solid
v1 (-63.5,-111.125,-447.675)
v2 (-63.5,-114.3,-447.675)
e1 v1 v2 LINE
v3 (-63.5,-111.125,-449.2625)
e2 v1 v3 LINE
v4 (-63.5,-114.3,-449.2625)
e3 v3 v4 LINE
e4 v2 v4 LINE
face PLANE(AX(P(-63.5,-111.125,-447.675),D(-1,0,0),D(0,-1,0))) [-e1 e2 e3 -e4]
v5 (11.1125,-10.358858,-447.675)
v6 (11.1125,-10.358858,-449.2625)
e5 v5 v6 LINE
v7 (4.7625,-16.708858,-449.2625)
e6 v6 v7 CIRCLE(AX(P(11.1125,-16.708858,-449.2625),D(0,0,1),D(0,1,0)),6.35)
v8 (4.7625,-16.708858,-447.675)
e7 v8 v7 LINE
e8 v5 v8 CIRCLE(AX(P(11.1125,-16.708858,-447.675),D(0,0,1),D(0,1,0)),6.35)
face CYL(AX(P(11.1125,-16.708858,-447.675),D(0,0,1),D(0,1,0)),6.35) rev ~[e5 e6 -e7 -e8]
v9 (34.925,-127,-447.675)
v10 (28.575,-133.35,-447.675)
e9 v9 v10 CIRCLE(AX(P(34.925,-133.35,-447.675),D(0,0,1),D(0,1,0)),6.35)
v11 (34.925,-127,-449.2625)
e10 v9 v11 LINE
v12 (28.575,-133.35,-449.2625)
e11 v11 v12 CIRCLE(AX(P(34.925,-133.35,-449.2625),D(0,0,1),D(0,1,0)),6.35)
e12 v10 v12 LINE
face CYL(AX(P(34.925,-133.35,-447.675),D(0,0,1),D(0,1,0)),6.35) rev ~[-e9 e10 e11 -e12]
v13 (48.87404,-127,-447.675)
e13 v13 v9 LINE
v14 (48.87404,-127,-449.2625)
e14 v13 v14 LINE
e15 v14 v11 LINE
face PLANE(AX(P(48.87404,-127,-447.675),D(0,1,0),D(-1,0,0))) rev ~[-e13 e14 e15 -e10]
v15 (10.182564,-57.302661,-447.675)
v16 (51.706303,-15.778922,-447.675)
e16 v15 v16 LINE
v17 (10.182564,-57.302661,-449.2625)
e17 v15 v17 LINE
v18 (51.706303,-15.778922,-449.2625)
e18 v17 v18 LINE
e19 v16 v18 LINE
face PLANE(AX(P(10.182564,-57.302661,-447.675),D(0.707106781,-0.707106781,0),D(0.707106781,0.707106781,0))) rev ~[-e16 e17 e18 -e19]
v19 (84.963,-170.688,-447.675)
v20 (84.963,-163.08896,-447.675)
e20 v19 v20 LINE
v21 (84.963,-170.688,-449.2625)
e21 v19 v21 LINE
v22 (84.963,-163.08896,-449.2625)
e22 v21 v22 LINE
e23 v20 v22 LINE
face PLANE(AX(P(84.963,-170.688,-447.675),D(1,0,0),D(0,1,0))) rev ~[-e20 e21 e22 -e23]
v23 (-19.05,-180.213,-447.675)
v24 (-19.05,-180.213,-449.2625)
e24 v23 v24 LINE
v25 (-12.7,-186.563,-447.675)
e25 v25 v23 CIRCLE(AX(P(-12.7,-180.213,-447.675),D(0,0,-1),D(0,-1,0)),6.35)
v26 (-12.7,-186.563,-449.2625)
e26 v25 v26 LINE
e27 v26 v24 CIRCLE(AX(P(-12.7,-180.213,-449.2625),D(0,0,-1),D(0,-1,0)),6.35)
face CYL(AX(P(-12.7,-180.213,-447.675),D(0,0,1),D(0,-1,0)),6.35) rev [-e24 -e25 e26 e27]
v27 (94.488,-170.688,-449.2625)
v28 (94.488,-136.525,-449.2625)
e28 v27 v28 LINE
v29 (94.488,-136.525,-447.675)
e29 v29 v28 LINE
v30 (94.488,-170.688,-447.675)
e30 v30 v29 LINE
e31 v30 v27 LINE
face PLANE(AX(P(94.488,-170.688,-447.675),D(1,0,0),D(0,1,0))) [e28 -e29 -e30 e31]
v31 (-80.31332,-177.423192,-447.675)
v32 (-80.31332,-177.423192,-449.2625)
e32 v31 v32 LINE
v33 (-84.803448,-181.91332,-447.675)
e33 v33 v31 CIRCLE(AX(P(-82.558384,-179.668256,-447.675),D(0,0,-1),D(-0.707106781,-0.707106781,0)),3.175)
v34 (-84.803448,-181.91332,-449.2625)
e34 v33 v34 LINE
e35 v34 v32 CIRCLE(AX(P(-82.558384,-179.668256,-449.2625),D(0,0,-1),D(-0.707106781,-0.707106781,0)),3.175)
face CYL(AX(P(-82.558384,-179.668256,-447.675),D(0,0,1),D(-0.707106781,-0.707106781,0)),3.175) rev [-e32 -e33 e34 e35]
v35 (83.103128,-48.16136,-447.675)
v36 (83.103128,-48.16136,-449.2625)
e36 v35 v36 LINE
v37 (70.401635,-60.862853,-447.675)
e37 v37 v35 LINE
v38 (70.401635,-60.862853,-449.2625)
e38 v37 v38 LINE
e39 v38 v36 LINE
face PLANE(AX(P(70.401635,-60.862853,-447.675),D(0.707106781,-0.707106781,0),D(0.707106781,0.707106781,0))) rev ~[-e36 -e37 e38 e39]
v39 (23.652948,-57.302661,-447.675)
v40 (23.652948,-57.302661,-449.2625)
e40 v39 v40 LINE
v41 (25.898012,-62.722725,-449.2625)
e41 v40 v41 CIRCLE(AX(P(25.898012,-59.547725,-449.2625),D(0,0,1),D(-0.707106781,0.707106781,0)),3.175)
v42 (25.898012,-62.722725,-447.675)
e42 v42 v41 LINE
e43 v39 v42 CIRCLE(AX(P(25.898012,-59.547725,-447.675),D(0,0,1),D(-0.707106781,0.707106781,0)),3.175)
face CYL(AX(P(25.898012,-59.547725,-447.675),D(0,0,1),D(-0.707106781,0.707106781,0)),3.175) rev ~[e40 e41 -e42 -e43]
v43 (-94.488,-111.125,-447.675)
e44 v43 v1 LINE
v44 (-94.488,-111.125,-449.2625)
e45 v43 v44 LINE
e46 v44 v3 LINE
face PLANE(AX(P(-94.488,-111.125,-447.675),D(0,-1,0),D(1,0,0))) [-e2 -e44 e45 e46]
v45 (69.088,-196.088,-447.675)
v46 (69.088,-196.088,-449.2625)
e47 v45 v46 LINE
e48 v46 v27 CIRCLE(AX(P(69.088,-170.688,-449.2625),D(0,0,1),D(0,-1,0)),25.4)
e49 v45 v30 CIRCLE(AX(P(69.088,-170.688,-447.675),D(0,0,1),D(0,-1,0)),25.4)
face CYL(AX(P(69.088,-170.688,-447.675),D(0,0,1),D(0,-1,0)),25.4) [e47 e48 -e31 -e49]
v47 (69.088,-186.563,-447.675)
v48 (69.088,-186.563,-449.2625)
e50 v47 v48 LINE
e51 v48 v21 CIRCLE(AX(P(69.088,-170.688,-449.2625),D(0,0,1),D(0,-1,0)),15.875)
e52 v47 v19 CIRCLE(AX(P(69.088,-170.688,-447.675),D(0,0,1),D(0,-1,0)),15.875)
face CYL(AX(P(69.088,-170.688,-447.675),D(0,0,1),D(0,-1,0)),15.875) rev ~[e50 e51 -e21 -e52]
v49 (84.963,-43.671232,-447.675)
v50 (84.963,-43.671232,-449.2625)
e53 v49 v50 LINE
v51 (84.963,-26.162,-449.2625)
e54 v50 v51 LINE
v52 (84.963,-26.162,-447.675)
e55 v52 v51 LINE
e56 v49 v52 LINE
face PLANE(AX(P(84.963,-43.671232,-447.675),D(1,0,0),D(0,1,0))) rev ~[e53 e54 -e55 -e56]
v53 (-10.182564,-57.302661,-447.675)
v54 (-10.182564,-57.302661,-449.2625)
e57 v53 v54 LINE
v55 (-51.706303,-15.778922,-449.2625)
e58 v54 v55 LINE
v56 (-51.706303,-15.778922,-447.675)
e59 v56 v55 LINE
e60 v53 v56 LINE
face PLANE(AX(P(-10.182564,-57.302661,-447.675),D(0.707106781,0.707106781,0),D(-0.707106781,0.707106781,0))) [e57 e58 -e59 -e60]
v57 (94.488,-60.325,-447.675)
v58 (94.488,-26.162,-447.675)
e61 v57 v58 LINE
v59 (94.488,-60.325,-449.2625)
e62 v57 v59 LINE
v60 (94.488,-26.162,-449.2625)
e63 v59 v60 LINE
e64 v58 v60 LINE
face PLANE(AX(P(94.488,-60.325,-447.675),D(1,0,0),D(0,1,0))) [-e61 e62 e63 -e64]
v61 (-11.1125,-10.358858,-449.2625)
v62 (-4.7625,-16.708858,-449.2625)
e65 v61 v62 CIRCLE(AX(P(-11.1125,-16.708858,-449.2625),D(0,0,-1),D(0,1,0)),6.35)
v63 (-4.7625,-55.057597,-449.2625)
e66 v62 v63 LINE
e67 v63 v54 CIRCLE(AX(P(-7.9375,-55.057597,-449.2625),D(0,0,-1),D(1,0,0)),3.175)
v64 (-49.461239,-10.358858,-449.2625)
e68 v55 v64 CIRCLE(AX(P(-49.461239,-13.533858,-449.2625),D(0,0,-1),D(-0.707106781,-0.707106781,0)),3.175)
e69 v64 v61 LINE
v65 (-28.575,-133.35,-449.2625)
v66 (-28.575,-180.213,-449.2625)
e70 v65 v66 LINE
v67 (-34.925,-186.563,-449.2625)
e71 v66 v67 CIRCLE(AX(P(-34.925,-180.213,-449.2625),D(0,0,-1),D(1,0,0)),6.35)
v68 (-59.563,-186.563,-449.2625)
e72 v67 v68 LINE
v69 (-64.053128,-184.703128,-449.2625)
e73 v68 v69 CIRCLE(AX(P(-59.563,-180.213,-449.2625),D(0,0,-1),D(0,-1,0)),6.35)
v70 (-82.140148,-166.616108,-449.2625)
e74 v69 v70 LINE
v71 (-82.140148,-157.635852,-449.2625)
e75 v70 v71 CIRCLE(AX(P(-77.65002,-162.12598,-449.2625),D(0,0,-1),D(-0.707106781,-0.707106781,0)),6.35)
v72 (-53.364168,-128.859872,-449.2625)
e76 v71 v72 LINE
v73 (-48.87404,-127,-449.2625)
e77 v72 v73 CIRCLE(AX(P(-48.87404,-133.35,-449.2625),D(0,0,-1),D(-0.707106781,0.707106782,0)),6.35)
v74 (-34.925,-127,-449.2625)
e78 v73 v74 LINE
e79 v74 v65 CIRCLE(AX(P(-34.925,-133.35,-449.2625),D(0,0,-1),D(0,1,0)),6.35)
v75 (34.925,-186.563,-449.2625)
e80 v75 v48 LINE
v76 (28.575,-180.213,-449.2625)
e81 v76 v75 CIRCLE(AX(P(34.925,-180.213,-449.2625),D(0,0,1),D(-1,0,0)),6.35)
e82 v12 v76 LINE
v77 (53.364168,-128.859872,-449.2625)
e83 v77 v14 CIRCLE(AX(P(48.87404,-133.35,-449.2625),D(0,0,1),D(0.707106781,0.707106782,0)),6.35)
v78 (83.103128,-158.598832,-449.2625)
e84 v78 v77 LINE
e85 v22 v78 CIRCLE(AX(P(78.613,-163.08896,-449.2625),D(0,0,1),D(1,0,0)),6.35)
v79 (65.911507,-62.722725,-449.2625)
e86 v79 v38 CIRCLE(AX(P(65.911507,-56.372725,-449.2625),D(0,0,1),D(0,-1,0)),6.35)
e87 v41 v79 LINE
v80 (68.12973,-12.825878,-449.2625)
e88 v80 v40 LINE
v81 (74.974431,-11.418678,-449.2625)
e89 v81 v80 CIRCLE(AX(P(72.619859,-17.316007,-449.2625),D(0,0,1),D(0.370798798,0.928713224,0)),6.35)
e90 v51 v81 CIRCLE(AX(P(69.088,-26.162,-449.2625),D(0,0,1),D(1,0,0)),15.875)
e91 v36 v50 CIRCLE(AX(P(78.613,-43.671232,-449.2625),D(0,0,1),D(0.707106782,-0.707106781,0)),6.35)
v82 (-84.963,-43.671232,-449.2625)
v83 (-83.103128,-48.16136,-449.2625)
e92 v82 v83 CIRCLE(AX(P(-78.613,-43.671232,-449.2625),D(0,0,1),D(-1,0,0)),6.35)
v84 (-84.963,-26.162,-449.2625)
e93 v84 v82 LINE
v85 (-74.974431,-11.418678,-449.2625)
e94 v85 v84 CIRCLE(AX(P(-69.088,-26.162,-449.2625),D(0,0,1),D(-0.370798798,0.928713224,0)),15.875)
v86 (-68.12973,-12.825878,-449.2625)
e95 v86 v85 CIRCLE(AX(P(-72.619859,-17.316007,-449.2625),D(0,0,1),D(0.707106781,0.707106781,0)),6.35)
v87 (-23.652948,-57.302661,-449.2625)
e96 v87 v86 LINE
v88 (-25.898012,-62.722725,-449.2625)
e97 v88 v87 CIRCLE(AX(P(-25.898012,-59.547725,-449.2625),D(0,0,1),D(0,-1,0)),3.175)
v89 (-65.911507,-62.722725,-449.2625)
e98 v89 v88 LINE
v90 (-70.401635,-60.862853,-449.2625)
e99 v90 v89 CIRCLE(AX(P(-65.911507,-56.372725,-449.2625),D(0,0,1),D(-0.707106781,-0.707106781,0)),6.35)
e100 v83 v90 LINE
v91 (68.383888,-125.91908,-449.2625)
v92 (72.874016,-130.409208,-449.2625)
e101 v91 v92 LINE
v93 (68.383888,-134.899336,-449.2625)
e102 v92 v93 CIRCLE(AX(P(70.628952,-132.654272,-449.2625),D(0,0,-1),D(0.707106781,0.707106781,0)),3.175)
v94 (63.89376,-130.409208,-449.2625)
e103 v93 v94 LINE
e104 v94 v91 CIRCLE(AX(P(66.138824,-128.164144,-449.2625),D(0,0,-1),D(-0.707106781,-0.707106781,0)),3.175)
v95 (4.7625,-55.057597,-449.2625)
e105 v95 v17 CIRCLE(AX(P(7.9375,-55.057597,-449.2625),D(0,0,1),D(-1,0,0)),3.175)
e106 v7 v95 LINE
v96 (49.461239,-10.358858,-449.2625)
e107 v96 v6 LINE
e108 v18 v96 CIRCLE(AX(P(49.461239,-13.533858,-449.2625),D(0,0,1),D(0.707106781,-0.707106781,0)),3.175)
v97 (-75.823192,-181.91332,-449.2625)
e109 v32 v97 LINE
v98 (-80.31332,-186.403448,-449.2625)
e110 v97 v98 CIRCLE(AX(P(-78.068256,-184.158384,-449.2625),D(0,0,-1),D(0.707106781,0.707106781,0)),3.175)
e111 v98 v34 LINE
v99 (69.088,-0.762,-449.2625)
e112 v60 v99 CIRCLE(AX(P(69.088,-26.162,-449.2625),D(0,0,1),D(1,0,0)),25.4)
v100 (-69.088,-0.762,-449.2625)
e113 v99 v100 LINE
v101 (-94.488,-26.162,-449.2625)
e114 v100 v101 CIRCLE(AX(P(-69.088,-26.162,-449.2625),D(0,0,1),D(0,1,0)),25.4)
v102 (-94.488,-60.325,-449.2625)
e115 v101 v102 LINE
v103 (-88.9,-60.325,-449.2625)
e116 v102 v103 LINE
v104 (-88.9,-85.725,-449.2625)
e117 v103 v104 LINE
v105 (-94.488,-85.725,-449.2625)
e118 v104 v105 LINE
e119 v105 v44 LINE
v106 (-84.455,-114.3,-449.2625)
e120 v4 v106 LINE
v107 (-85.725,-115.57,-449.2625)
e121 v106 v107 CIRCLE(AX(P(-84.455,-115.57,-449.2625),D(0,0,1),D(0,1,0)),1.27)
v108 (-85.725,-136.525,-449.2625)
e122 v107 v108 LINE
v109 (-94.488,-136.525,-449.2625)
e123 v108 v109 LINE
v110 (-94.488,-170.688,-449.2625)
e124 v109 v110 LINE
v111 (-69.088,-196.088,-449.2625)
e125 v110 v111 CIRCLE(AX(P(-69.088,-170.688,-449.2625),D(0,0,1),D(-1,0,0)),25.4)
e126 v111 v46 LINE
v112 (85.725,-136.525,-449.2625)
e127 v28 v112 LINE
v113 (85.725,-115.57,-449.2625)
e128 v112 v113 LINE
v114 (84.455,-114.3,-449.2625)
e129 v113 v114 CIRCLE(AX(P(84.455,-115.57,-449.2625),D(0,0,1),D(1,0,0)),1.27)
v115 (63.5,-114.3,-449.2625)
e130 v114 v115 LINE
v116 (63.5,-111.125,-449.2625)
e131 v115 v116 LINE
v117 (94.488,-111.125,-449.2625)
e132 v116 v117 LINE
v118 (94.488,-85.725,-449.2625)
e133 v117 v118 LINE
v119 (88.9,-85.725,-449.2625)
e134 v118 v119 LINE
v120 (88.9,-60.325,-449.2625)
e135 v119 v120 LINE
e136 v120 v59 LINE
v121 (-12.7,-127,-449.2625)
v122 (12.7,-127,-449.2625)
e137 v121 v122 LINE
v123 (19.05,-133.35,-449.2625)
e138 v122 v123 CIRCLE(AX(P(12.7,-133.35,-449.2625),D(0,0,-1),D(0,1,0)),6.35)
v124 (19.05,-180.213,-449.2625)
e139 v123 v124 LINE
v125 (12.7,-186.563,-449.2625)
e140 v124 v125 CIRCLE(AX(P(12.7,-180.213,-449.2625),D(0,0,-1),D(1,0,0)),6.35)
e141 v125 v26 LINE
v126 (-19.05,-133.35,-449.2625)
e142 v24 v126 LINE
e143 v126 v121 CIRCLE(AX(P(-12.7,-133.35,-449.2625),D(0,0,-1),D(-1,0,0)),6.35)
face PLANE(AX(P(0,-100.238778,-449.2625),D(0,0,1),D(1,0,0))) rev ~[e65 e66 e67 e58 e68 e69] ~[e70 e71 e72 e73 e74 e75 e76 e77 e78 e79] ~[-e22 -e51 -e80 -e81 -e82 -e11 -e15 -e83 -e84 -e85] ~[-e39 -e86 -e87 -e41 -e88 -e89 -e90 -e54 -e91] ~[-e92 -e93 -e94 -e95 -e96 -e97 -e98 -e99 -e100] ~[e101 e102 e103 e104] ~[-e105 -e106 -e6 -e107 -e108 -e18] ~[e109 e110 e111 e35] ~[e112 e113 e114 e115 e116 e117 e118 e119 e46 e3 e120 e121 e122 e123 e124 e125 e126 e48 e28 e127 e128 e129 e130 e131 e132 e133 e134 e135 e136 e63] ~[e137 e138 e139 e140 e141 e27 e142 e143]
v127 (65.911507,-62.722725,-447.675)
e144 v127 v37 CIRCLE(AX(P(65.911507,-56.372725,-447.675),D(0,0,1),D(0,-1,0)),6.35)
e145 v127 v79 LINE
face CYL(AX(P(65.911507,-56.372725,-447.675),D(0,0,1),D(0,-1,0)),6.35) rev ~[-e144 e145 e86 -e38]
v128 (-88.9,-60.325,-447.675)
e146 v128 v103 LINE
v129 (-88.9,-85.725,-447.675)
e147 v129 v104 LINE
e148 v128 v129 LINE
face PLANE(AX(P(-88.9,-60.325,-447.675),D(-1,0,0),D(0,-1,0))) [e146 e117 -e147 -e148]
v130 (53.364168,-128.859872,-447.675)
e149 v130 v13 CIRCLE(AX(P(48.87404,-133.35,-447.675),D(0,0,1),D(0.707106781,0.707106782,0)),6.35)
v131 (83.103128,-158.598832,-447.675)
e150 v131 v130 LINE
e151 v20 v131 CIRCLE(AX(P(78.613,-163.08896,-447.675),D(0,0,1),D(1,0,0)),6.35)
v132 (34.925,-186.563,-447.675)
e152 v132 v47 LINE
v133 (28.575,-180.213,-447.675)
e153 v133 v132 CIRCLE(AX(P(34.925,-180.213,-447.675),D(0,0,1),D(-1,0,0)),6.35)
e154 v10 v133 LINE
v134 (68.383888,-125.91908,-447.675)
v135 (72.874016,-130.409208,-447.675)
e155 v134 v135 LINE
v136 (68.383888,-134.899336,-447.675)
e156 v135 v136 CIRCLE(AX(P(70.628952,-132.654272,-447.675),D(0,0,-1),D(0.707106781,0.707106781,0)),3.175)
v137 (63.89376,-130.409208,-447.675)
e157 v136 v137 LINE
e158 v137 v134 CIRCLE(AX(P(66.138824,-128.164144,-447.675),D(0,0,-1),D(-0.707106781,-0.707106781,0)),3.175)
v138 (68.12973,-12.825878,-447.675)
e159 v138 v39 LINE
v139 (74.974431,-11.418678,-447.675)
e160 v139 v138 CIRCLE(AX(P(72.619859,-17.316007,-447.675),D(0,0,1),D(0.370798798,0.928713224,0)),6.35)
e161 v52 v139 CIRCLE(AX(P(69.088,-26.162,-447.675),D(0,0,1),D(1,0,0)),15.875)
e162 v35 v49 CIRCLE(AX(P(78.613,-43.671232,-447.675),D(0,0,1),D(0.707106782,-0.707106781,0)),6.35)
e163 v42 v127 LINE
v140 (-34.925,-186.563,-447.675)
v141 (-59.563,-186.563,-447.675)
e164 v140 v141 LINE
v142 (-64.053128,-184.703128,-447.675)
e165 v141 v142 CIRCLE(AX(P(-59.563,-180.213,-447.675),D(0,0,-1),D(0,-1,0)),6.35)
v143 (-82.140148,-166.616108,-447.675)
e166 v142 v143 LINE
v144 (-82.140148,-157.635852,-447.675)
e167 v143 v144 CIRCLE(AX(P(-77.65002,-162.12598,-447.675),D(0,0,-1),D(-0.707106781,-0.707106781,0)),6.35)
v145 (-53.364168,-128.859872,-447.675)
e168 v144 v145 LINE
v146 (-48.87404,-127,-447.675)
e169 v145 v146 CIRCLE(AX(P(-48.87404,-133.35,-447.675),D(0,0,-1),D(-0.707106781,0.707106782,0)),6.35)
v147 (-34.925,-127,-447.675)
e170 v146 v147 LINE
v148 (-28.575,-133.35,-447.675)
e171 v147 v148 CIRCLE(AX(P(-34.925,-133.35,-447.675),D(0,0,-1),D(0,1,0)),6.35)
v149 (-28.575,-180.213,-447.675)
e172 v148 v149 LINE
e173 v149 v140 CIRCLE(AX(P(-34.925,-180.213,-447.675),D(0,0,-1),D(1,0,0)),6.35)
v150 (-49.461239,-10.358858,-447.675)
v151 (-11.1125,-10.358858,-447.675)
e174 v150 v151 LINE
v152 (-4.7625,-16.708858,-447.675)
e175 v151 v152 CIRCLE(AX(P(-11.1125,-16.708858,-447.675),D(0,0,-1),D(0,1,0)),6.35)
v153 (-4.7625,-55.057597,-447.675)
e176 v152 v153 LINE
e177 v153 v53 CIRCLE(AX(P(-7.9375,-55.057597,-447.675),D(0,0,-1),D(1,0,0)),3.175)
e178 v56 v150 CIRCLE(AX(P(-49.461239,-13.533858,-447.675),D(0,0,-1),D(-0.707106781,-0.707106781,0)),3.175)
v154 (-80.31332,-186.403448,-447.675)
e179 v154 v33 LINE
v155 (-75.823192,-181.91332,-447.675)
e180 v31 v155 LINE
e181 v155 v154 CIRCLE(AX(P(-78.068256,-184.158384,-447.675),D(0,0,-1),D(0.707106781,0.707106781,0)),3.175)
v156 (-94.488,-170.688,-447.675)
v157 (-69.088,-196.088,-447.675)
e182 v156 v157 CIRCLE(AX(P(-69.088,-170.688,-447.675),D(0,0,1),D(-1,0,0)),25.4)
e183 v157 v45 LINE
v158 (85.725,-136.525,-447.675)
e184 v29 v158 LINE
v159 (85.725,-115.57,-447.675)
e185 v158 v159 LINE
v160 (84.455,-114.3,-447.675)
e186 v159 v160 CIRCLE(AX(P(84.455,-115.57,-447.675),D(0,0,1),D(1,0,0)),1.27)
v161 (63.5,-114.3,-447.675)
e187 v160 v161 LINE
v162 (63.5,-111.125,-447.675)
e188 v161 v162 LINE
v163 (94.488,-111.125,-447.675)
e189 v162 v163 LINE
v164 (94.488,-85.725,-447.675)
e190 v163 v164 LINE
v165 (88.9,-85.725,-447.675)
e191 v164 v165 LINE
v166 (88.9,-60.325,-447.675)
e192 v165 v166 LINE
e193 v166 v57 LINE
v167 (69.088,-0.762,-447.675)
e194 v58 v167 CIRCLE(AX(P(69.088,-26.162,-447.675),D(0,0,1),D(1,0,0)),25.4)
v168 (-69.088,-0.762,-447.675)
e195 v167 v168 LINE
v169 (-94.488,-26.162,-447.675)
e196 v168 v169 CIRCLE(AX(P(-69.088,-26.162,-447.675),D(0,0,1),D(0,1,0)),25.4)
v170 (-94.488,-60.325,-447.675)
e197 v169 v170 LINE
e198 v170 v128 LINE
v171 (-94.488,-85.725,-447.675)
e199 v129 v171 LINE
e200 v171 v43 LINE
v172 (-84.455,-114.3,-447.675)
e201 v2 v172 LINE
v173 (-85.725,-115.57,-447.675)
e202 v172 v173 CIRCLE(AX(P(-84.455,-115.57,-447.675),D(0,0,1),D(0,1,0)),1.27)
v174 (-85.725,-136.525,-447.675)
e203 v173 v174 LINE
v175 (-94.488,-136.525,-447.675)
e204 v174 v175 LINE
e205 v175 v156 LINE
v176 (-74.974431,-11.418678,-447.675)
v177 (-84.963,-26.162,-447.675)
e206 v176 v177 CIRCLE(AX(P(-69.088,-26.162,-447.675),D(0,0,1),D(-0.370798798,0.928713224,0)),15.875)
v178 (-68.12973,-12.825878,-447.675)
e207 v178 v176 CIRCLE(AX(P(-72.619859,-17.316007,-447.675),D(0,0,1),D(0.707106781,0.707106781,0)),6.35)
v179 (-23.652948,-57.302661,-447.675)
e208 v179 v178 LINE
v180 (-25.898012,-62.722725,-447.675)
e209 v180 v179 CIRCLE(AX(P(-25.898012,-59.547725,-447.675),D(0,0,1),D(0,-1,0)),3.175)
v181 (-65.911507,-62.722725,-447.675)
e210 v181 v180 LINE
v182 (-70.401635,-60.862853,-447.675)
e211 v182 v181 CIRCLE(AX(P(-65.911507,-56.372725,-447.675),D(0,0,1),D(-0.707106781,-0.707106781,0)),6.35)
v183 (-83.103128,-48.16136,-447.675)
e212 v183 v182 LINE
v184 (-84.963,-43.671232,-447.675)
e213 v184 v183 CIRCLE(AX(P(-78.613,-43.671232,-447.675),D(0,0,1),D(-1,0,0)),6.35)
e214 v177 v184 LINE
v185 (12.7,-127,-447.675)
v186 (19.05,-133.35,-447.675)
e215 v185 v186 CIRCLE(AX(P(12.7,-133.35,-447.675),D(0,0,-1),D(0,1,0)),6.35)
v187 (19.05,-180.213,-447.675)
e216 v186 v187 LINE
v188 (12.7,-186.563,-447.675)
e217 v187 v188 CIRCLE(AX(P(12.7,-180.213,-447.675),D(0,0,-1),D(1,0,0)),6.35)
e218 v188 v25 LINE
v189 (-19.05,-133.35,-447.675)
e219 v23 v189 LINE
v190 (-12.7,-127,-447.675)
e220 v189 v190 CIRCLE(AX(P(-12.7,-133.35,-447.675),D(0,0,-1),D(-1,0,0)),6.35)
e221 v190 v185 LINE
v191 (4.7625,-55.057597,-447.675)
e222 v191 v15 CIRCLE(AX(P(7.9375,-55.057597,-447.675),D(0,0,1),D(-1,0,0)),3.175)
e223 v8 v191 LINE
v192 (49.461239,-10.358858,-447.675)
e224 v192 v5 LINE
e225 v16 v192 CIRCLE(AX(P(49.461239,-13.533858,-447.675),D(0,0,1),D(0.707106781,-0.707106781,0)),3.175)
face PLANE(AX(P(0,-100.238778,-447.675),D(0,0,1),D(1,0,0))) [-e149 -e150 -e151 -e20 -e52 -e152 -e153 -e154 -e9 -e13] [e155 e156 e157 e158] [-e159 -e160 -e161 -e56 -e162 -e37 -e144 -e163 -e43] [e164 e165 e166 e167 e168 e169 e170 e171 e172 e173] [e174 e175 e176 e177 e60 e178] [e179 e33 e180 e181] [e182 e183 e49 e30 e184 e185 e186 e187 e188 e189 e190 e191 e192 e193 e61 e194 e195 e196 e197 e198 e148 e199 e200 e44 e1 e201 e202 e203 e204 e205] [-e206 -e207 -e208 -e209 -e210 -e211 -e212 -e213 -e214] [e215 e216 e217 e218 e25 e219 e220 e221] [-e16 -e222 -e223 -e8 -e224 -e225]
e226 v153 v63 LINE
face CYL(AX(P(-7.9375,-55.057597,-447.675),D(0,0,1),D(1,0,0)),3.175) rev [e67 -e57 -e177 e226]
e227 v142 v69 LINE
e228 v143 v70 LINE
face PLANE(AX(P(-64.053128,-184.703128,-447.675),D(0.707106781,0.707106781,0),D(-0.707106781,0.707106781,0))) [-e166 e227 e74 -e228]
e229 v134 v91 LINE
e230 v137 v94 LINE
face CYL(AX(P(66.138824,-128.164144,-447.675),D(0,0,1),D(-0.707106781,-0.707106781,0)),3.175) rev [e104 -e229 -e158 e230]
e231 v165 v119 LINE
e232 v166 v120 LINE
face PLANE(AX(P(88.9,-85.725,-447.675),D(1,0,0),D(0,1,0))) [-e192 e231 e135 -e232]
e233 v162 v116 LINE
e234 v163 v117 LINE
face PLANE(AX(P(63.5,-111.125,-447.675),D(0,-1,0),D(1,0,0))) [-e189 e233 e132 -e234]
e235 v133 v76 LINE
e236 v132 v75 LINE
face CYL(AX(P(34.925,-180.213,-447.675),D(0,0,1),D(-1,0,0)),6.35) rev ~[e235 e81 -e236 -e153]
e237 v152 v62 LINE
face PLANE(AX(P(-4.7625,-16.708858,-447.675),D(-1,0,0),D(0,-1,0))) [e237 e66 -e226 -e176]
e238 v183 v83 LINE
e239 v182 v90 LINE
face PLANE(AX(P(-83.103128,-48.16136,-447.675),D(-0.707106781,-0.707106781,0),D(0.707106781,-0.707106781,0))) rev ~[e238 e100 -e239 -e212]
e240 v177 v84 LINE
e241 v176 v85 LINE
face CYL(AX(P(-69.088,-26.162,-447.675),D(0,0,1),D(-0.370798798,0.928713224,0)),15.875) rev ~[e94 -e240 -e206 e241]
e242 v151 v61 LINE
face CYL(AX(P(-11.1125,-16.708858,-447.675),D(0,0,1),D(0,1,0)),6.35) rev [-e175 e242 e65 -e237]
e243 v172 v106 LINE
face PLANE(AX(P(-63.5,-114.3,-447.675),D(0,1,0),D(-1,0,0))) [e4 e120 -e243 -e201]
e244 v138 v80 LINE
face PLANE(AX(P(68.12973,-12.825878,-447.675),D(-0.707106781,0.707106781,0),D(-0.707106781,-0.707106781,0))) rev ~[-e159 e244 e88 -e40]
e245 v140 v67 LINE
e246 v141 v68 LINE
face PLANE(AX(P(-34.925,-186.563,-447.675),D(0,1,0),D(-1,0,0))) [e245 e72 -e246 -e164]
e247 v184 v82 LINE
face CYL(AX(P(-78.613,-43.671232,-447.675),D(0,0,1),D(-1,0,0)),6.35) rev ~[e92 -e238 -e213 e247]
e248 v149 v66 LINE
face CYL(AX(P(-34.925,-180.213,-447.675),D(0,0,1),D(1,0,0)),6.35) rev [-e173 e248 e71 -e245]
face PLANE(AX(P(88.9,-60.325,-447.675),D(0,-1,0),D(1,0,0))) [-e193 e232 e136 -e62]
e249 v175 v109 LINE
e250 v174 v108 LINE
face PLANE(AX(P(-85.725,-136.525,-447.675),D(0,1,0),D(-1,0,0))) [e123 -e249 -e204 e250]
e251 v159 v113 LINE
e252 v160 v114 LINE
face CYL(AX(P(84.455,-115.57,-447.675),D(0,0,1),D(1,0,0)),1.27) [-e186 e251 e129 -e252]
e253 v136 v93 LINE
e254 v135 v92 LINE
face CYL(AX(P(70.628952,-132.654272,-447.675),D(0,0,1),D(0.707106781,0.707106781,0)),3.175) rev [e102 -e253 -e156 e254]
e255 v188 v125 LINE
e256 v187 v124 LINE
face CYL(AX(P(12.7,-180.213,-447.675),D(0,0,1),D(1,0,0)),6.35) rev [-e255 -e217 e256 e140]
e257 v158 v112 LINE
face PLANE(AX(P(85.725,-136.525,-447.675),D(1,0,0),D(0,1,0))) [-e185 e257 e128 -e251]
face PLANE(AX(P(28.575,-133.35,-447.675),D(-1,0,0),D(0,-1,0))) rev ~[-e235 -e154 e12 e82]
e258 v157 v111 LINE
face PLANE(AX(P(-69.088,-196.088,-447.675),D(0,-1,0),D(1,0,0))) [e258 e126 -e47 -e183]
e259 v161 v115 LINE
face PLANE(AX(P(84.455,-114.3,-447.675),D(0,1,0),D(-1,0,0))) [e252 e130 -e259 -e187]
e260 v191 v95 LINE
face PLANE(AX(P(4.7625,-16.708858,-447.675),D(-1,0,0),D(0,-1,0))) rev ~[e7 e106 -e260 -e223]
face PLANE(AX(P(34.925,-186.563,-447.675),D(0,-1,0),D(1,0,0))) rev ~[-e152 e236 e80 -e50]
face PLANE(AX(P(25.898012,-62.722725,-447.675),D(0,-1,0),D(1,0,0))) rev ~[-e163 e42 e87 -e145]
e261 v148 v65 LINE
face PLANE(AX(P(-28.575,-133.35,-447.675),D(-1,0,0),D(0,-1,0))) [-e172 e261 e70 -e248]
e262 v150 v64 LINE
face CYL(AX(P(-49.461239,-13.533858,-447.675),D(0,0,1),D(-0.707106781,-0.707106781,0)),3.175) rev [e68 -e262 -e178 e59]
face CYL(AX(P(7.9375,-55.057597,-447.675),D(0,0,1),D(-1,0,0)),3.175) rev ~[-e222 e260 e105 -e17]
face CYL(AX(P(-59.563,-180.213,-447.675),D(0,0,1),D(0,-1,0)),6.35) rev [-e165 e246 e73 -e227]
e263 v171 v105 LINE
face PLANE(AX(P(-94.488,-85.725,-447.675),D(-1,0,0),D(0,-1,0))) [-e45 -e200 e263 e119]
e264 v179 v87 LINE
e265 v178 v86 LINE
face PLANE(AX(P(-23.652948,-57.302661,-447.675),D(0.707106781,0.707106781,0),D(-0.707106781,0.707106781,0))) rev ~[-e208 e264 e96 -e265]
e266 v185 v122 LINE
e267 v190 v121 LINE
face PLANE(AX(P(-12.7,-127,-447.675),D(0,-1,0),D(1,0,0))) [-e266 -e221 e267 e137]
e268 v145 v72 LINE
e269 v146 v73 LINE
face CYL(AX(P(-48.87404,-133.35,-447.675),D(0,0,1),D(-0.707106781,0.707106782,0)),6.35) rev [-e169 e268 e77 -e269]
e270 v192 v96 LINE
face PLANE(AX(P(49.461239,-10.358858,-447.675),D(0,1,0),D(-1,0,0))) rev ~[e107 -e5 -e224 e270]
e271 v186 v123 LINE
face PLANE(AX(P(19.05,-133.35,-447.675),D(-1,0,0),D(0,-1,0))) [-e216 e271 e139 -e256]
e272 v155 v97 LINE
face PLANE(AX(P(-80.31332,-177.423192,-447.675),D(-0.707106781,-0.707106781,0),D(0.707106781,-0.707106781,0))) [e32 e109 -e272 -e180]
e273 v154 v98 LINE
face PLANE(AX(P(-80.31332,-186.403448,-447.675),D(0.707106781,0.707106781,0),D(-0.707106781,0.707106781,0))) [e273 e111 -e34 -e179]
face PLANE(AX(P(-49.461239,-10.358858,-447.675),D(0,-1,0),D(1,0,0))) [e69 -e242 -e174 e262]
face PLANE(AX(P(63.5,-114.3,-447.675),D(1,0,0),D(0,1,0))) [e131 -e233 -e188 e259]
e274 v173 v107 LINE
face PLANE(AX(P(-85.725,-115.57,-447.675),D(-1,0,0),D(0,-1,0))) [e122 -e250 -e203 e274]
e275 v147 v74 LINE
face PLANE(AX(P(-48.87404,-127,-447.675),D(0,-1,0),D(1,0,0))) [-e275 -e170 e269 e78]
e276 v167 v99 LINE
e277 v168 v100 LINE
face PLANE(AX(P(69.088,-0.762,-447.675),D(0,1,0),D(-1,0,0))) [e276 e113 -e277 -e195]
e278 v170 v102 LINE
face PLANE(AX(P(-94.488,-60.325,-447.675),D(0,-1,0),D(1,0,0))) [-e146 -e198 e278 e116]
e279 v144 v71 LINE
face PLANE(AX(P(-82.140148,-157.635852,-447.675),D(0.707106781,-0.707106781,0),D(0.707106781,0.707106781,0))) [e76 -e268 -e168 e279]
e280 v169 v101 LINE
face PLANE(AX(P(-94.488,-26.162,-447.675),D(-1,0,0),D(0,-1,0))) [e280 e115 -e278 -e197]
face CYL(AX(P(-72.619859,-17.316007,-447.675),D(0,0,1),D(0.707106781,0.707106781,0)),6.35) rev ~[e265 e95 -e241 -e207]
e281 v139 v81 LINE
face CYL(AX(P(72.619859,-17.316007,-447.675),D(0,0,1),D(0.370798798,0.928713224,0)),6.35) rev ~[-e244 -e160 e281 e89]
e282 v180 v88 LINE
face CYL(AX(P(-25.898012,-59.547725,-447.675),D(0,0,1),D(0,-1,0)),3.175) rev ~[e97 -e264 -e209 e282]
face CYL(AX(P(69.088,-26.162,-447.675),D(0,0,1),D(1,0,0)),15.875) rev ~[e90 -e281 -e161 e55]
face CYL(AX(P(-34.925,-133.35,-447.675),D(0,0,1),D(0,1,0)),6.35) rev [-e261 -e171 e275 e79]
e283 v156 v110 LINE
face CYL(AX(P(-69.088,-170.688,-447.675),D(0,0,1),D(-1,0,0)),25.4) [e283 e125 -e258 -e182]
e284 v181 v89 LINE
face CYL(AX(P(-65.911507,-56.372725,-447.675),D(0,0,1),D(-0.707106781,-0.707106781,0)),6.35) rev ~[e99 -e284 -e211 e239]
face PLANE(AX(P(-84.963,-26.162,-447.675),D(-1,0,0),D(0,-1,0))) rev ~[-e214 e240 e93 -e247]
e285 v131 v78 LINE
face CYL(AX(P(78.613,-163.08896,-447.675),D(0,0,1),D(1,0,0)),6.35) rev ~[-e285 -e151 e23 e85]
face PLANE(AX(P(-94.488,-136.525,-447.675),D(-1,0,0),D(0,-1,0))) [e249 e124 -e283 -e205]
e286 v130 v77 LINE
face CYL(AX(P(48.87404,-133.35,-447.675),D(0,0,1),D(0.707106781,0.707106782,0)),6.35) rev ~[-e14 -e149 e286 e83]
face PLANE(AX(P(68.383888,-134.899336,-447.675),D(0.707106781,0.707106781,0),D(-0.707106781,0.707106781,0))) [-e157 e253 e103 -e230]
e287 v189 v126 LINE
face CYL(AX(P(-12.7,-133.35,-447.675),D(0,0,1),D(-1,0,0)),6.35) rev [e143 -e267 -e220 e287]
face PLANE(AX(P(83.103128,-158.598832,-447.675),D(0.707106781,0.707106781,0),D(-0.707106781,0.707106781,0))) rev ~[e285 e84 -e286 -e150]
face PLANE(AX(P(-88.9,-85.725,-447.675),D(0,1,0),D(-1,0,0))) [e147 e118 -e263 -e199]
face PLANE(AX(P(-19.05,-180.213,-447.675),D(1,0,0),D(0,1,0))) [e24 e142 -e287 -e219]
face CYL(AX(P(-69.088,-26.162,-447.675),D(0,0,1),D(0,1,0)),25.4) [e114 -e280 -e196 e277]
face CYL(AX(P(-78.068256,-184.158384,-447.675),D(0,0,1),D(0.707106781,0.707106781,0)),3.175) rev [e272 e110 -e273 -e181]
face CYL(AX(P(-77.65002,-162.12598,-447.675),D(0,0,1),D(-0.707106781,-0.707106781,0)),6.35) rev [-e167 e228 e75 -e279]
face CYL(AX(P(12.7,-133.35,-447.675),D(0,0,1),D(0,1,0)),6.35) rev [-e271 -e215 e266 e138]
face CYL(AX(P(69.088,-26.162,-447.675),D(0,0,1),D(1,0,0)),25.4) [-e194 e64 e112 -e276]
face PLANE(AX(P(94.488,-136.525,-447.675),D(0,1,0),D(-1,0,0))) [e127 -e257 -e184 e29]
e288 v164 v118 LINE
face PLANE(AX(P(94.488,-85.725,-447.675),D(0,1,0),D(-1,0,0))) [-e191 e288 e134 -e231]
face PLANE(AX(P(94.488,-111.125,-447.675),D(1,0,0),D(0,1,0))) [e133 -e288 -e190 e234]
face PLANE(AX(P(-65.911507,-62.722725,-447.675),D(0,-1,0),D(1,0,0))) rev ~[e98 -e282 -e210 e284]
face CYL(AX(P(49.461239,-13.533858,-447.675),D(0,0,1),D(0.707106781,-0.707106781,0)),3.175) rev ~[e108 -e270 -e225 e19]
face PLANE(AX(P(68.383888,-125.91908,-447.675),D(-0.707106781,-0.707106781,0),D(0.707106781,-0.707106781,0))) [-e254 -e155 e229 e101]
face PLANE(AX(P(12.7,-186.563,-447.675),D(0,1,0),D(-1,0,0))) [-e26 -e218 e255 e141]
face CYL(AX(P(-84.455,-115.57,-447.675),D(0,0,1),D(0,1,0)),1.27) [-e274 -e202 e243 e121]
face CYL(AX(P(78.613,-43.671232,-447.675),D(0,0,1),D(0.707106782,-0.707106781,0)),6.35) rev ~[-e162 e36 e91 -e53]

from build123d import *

# Parameters (mm, degrees)
BOSS_EXTRUDE1_DEPTH = 1.5875


with BuildPart() as part:
    # Sketch1 → Boss-Extrude1 (new body)
    with BuildSketch(Plane.XY.offset(-447.675)):
        with BuildLine():
            Line((94.488, -85.725), (88.9, -85.725))
            Line((88.9, -85.725), (88.9, -60.325))
            Line((88.9, -60.325), (94.488, -60.325))
            Line((94.488, -60.325), (94.488, -26.162))
            ThreePointArc((94.488, -26.162), (87.048512242, -8.201487758), (69.088, -0.762))
            Line((69.088, -0.762), (-69.088, -0.762))
            ThreePointArc((-69.088, -0.762), (-87.048512242, -8.201487758), (-94.488, -26.162))
            Line((-94.488, -26.162), (-94.488, -60.325))
            Line((-94.488, -60.325), (-88.9, -60.325))
            Line((-88.9, -60.325), (-88.9, -85.725))
            Line((-88.9, -85.725), (-94.488, -85.725))
            Line((-94.488, -85.725), (-94.488, -111.125))
            Line((-94.488, -111.125), (-63.5, -111.125))
            Line((-63.5, -111.125), (-63.5, -114.3))
            Line((-63.5, -114.3), (-84.455, -114.3))
            ThreePointArc((-84.455, -114.3), (-85.353025612, -114.671974388), (-85.725, -115.57))
            Line((-85.725, -115.57), (-85.725, -136.525))
            Line((-85.725, -136.525), (-94.488, -136.525))
            Line((-94.488, -136.525), (-94.488, -170.688))
            ThreePointArc((-94.488, -170.688), (-87.048512242, -188.648512242), (-69.088, -196.088))
            Line((-69.088, -196.088), (69.088, -196.088))
            ThreePointArc((69.088, -196.088), (87.048512242, -188.648512242), (94.488, -170.688))
            Line((94.488, -170.688), (94.488, -136.525))
            Line((94.488, -136.525), (85.725, -136.525))
            Line((85.725, -136.525), (85.725, -115.57))
            ThreePointArc((85.725, -115.57), (85.353025612, -114.671974388), (84.455, -114.3))
            Line((84.455, -114.3), (63.5, -114.3))
            Line((63.5, -114.3), (63.5, -111.125))
            Line((63.5, -111.125), (94.488, -111.125))
            Line((94.488, -111.125), (94.488, -85.725))
        make_face()
        with BuildLine():
            Line((-48.874039546, -127), (-34.925, -127))
            ThreePointArc((-34.925, -127), (-30.434871939, -128.859871939), (-28.575, -133.35))
            Line((-28.575, -133.35), (-28.575, -180.213))
            ThreePointArc((-28.575, -180.213), (-30.434871939, -184.703128061), (-34.925, -186.563))
            Line((-34.925, -186.563), (-59.563, -186.563))
            ThreePointArc((-59.563, -186.563), (-61.993039796, -186.079635031), (-64.053128061, -184.703128061))
            Line((-64.053128061, -184.703128061), (-82.140147834, -166.616108288))
            ThreePointArc((-82.140147834, -166.616108288), (-84.000019773, -162.125980227), (-82.140147834, -157.635852166))
            Line((-82.140147834, -157.635852166), (-53.364167607, -128.859871939))
            ThreePointArc((-53.364167607, -128.859871939), (-51.304079342, -127.483364969), (-48.874039546, -127))
        make_face(mode=Mode.SUBTRACT)
        with BuildLine():
            Line((28.575, -133.35), (28.575, -180.213))
            ThreePointArc((28.575, -180.213), (30.434871939, -184.703128061), (34.925, -186.563))
            Line((34.925, -186.563), (69.088, -186.563))
            ThreePointArc((69.088, -186.563), (80.313320151, -181.913320151), (84.963, -170.688))
            Line((84.963, -170.688), (84.963, -163.088960454))
            ThreePointArc((84.963, -163.088960454), (84.479635031, -160.658920658), (83.103128061, -158.598832393))
            Line((83.103128061, -158.598832393), (53.364167607, -128.859871939))
            ThreePointArc((53.364167607, -128.859871939), (51.304079342, -127.483364969), (48.874039546, -127))
            Line((48.874039546, -127), (34.925, -127))
            ThreePointArc((34.925, -127), (30.434871939, -128.859871939), (28.575, -133.35))
        make_face(mode=Mode.SUBTRACT)
        with BuildLine():
            Line((-12.7, -127), (12.7, -127))
            ThreePointArc((12.7, -127), (17.190128061, -128.859871939), (19.05, -133.35))
            Line((19.05, -133.35), (19.05, -180.213))
            ThreePointArc((19.05, -180.213), (17.190128061, -184.703128061), (12.7, -186.563))
            Line((12.7, -186.563), (-12.7, -186.563))
            ThreePointArc((-12.7, -186.563), (-17.190128061, -184.703128061), (-19.05, -180.213))
            Line((-19.05, -180.213), (-19.05, -133.35))
            ThreePointArc((-19.05, -133.35), (-17.190128061, -128.859871939), (-12.7, -127))
        make_face(mode=Mode.SUBTRACT)
        with BuildLine():
            Line((-84.963, -26.162), (-84.963, -43.671231637))
            ThreePointArc((-84.963, -43.671231637), (-84.479635031, -46.101271432), (-83.103128061, -48.161359697))
            Line((-83.103128061, -48.161359697), (-70.401634909, -60.862852849))
            ThreePointArc((-70.401634909, -60.862852849), (-68.341546644, -62.23935982), (-65.911506848, -62.722724789))
            Line((-65.911506848, -62.722724789), (-25.898012242, -62.722724789))
            ThreePointArc((-25.898012242, -62.722724789), (-22.964694726, -60.762744686), (-23.652948212, -57.302660758))
            Line((-23.652948212, -57.302660758), (-68.129730486, -12.825878484))
            ThreePointArc((-68.129730486, -12.825878484), (-71.341107932, -11.096095222), (-74.974430911, -11.418677575))
            ThreePointArc((-74.974430911, -11.418677575), (-82.230730228, -17.257828666), (-84.963, -26.162))
        make_face(mode=Mode.SUBTRACT)
        with BuildLine():
            Line((-49.461238683, -10.358858045), (-11.1125, -10.358858045))
            ThreePointArc((-11.1125, -10.358858045), (-6.622371939, -12.218729985), (-4.7625, -16.708858045))
            Line((-4.7625, -16.708858045), (-4.7625, -55.057596728))
            ThreePointArc((-4.7625, -55.057596728), (-6.722480102, -57.990914244), (-10.18256403, -57.302660758))
            Line((-10.18256403, -57.302660758), (-51.706302713, -15.778922075))
            ThreePointArc((-51.706302713, -15.778922075), (-52.394556199, -12.318838147), (-49.461238683, -10.358858045))
        make_face(mode=Mode.SUBTRACT)
        with BuildLine():
            Line((4.7625, -16.708858045), (4.7625, -55.057596728))
            ThreePointArc((4.7625, -55.057596728), (6.722480102, -57.990914244), (10.18256403, -57.302660758))
            Line((10.18256403, -57.302660758), (51.706302713, -15.778922075))
            ThreePointArc((51.706302713, -15.778922075), (52.394556199, -12.318838147), (49.461238683, -10.358858045))
            Line((49.461238683, -10.358858045), (11.1125, -10.358858045))
            ThreePointArc((11.1125, -10.358858045), (6.622371939, -12.218729985), (4.7625, -16.708858045))
        make_face(mode=Mode.SUBTRACT)
        with BuildLine():
            Line((68.129730486, -12.825878484), (23.652948212, -57.302660758))
            ThreePointArc((23.652948212, -57.302660758), (22.964694726, -60.762744686), (25.898012242, -62.722724789))
            Line((25.898012242, -62.722724789), (65.911506848, -62.722724789))
            ThreePointArc((65.911506848, -62.722724789), (68.341546644, -62.23935982), (70.401634909, -60.862852849))
            Line((70.401634909, -60.862852849), (83.103128061, -48.161359697))
            ThreePointArc((83.103128061, -48.161359697), (84.479635031, -46.101271432), (84.963, -43.671231637))
            Line((84.963, -43.671231637), (84.963, -26.162))
            ThreePointArc((84.963, -26.162), (82.230730228, -17.257828666), (74.974430911, -11.418677575))
            ThreePointArc((74.974430911, -11.418677575), (71.341107932, -11.096095222), (68.129730486, -12.825878484))
        make_face(mode=Mode.SUBTRACT)
        with BuildLine():
            Line((68.383887592, -125.919079683), (72.874015653, -130.409207744))
            ThreePointArc((72.874015653, -130.409207744), (72.874015653, -134.899335804), (68.383887592, -134.899335804))
            Line((68.383887592, -134.899335804), (63.893759532, -130.409207744))
            ThreePointArc((63.893759532, -130.409207744), (63.893759532, -125.919079683), (68.383887592, -125.919079683))
        make_face(mode=Mode.SUBTRACT)
        with BuildLine():
            Line((-80.313320151, -177.423192091), (-75.823192091, -181.913320151))
            ThreePointArc((-75.823192091, -181.913320151), (-75.823192091, -186.403448212), (-80.313320151, -186.403448212))
            Line((-80.313320151, -186.403448212), (-84.803448212, -181.913320151))
            ThreePointArc((-84.803448212, -181.913320151), (-84.803448212, -177.423192091), (-80.313320151, -177.423192091))
        make_face(mode=Mode.SUBTRACT)
    extrude(amount=-BOSS_EXTRUDE1_DEPTH)


solid = part.part
